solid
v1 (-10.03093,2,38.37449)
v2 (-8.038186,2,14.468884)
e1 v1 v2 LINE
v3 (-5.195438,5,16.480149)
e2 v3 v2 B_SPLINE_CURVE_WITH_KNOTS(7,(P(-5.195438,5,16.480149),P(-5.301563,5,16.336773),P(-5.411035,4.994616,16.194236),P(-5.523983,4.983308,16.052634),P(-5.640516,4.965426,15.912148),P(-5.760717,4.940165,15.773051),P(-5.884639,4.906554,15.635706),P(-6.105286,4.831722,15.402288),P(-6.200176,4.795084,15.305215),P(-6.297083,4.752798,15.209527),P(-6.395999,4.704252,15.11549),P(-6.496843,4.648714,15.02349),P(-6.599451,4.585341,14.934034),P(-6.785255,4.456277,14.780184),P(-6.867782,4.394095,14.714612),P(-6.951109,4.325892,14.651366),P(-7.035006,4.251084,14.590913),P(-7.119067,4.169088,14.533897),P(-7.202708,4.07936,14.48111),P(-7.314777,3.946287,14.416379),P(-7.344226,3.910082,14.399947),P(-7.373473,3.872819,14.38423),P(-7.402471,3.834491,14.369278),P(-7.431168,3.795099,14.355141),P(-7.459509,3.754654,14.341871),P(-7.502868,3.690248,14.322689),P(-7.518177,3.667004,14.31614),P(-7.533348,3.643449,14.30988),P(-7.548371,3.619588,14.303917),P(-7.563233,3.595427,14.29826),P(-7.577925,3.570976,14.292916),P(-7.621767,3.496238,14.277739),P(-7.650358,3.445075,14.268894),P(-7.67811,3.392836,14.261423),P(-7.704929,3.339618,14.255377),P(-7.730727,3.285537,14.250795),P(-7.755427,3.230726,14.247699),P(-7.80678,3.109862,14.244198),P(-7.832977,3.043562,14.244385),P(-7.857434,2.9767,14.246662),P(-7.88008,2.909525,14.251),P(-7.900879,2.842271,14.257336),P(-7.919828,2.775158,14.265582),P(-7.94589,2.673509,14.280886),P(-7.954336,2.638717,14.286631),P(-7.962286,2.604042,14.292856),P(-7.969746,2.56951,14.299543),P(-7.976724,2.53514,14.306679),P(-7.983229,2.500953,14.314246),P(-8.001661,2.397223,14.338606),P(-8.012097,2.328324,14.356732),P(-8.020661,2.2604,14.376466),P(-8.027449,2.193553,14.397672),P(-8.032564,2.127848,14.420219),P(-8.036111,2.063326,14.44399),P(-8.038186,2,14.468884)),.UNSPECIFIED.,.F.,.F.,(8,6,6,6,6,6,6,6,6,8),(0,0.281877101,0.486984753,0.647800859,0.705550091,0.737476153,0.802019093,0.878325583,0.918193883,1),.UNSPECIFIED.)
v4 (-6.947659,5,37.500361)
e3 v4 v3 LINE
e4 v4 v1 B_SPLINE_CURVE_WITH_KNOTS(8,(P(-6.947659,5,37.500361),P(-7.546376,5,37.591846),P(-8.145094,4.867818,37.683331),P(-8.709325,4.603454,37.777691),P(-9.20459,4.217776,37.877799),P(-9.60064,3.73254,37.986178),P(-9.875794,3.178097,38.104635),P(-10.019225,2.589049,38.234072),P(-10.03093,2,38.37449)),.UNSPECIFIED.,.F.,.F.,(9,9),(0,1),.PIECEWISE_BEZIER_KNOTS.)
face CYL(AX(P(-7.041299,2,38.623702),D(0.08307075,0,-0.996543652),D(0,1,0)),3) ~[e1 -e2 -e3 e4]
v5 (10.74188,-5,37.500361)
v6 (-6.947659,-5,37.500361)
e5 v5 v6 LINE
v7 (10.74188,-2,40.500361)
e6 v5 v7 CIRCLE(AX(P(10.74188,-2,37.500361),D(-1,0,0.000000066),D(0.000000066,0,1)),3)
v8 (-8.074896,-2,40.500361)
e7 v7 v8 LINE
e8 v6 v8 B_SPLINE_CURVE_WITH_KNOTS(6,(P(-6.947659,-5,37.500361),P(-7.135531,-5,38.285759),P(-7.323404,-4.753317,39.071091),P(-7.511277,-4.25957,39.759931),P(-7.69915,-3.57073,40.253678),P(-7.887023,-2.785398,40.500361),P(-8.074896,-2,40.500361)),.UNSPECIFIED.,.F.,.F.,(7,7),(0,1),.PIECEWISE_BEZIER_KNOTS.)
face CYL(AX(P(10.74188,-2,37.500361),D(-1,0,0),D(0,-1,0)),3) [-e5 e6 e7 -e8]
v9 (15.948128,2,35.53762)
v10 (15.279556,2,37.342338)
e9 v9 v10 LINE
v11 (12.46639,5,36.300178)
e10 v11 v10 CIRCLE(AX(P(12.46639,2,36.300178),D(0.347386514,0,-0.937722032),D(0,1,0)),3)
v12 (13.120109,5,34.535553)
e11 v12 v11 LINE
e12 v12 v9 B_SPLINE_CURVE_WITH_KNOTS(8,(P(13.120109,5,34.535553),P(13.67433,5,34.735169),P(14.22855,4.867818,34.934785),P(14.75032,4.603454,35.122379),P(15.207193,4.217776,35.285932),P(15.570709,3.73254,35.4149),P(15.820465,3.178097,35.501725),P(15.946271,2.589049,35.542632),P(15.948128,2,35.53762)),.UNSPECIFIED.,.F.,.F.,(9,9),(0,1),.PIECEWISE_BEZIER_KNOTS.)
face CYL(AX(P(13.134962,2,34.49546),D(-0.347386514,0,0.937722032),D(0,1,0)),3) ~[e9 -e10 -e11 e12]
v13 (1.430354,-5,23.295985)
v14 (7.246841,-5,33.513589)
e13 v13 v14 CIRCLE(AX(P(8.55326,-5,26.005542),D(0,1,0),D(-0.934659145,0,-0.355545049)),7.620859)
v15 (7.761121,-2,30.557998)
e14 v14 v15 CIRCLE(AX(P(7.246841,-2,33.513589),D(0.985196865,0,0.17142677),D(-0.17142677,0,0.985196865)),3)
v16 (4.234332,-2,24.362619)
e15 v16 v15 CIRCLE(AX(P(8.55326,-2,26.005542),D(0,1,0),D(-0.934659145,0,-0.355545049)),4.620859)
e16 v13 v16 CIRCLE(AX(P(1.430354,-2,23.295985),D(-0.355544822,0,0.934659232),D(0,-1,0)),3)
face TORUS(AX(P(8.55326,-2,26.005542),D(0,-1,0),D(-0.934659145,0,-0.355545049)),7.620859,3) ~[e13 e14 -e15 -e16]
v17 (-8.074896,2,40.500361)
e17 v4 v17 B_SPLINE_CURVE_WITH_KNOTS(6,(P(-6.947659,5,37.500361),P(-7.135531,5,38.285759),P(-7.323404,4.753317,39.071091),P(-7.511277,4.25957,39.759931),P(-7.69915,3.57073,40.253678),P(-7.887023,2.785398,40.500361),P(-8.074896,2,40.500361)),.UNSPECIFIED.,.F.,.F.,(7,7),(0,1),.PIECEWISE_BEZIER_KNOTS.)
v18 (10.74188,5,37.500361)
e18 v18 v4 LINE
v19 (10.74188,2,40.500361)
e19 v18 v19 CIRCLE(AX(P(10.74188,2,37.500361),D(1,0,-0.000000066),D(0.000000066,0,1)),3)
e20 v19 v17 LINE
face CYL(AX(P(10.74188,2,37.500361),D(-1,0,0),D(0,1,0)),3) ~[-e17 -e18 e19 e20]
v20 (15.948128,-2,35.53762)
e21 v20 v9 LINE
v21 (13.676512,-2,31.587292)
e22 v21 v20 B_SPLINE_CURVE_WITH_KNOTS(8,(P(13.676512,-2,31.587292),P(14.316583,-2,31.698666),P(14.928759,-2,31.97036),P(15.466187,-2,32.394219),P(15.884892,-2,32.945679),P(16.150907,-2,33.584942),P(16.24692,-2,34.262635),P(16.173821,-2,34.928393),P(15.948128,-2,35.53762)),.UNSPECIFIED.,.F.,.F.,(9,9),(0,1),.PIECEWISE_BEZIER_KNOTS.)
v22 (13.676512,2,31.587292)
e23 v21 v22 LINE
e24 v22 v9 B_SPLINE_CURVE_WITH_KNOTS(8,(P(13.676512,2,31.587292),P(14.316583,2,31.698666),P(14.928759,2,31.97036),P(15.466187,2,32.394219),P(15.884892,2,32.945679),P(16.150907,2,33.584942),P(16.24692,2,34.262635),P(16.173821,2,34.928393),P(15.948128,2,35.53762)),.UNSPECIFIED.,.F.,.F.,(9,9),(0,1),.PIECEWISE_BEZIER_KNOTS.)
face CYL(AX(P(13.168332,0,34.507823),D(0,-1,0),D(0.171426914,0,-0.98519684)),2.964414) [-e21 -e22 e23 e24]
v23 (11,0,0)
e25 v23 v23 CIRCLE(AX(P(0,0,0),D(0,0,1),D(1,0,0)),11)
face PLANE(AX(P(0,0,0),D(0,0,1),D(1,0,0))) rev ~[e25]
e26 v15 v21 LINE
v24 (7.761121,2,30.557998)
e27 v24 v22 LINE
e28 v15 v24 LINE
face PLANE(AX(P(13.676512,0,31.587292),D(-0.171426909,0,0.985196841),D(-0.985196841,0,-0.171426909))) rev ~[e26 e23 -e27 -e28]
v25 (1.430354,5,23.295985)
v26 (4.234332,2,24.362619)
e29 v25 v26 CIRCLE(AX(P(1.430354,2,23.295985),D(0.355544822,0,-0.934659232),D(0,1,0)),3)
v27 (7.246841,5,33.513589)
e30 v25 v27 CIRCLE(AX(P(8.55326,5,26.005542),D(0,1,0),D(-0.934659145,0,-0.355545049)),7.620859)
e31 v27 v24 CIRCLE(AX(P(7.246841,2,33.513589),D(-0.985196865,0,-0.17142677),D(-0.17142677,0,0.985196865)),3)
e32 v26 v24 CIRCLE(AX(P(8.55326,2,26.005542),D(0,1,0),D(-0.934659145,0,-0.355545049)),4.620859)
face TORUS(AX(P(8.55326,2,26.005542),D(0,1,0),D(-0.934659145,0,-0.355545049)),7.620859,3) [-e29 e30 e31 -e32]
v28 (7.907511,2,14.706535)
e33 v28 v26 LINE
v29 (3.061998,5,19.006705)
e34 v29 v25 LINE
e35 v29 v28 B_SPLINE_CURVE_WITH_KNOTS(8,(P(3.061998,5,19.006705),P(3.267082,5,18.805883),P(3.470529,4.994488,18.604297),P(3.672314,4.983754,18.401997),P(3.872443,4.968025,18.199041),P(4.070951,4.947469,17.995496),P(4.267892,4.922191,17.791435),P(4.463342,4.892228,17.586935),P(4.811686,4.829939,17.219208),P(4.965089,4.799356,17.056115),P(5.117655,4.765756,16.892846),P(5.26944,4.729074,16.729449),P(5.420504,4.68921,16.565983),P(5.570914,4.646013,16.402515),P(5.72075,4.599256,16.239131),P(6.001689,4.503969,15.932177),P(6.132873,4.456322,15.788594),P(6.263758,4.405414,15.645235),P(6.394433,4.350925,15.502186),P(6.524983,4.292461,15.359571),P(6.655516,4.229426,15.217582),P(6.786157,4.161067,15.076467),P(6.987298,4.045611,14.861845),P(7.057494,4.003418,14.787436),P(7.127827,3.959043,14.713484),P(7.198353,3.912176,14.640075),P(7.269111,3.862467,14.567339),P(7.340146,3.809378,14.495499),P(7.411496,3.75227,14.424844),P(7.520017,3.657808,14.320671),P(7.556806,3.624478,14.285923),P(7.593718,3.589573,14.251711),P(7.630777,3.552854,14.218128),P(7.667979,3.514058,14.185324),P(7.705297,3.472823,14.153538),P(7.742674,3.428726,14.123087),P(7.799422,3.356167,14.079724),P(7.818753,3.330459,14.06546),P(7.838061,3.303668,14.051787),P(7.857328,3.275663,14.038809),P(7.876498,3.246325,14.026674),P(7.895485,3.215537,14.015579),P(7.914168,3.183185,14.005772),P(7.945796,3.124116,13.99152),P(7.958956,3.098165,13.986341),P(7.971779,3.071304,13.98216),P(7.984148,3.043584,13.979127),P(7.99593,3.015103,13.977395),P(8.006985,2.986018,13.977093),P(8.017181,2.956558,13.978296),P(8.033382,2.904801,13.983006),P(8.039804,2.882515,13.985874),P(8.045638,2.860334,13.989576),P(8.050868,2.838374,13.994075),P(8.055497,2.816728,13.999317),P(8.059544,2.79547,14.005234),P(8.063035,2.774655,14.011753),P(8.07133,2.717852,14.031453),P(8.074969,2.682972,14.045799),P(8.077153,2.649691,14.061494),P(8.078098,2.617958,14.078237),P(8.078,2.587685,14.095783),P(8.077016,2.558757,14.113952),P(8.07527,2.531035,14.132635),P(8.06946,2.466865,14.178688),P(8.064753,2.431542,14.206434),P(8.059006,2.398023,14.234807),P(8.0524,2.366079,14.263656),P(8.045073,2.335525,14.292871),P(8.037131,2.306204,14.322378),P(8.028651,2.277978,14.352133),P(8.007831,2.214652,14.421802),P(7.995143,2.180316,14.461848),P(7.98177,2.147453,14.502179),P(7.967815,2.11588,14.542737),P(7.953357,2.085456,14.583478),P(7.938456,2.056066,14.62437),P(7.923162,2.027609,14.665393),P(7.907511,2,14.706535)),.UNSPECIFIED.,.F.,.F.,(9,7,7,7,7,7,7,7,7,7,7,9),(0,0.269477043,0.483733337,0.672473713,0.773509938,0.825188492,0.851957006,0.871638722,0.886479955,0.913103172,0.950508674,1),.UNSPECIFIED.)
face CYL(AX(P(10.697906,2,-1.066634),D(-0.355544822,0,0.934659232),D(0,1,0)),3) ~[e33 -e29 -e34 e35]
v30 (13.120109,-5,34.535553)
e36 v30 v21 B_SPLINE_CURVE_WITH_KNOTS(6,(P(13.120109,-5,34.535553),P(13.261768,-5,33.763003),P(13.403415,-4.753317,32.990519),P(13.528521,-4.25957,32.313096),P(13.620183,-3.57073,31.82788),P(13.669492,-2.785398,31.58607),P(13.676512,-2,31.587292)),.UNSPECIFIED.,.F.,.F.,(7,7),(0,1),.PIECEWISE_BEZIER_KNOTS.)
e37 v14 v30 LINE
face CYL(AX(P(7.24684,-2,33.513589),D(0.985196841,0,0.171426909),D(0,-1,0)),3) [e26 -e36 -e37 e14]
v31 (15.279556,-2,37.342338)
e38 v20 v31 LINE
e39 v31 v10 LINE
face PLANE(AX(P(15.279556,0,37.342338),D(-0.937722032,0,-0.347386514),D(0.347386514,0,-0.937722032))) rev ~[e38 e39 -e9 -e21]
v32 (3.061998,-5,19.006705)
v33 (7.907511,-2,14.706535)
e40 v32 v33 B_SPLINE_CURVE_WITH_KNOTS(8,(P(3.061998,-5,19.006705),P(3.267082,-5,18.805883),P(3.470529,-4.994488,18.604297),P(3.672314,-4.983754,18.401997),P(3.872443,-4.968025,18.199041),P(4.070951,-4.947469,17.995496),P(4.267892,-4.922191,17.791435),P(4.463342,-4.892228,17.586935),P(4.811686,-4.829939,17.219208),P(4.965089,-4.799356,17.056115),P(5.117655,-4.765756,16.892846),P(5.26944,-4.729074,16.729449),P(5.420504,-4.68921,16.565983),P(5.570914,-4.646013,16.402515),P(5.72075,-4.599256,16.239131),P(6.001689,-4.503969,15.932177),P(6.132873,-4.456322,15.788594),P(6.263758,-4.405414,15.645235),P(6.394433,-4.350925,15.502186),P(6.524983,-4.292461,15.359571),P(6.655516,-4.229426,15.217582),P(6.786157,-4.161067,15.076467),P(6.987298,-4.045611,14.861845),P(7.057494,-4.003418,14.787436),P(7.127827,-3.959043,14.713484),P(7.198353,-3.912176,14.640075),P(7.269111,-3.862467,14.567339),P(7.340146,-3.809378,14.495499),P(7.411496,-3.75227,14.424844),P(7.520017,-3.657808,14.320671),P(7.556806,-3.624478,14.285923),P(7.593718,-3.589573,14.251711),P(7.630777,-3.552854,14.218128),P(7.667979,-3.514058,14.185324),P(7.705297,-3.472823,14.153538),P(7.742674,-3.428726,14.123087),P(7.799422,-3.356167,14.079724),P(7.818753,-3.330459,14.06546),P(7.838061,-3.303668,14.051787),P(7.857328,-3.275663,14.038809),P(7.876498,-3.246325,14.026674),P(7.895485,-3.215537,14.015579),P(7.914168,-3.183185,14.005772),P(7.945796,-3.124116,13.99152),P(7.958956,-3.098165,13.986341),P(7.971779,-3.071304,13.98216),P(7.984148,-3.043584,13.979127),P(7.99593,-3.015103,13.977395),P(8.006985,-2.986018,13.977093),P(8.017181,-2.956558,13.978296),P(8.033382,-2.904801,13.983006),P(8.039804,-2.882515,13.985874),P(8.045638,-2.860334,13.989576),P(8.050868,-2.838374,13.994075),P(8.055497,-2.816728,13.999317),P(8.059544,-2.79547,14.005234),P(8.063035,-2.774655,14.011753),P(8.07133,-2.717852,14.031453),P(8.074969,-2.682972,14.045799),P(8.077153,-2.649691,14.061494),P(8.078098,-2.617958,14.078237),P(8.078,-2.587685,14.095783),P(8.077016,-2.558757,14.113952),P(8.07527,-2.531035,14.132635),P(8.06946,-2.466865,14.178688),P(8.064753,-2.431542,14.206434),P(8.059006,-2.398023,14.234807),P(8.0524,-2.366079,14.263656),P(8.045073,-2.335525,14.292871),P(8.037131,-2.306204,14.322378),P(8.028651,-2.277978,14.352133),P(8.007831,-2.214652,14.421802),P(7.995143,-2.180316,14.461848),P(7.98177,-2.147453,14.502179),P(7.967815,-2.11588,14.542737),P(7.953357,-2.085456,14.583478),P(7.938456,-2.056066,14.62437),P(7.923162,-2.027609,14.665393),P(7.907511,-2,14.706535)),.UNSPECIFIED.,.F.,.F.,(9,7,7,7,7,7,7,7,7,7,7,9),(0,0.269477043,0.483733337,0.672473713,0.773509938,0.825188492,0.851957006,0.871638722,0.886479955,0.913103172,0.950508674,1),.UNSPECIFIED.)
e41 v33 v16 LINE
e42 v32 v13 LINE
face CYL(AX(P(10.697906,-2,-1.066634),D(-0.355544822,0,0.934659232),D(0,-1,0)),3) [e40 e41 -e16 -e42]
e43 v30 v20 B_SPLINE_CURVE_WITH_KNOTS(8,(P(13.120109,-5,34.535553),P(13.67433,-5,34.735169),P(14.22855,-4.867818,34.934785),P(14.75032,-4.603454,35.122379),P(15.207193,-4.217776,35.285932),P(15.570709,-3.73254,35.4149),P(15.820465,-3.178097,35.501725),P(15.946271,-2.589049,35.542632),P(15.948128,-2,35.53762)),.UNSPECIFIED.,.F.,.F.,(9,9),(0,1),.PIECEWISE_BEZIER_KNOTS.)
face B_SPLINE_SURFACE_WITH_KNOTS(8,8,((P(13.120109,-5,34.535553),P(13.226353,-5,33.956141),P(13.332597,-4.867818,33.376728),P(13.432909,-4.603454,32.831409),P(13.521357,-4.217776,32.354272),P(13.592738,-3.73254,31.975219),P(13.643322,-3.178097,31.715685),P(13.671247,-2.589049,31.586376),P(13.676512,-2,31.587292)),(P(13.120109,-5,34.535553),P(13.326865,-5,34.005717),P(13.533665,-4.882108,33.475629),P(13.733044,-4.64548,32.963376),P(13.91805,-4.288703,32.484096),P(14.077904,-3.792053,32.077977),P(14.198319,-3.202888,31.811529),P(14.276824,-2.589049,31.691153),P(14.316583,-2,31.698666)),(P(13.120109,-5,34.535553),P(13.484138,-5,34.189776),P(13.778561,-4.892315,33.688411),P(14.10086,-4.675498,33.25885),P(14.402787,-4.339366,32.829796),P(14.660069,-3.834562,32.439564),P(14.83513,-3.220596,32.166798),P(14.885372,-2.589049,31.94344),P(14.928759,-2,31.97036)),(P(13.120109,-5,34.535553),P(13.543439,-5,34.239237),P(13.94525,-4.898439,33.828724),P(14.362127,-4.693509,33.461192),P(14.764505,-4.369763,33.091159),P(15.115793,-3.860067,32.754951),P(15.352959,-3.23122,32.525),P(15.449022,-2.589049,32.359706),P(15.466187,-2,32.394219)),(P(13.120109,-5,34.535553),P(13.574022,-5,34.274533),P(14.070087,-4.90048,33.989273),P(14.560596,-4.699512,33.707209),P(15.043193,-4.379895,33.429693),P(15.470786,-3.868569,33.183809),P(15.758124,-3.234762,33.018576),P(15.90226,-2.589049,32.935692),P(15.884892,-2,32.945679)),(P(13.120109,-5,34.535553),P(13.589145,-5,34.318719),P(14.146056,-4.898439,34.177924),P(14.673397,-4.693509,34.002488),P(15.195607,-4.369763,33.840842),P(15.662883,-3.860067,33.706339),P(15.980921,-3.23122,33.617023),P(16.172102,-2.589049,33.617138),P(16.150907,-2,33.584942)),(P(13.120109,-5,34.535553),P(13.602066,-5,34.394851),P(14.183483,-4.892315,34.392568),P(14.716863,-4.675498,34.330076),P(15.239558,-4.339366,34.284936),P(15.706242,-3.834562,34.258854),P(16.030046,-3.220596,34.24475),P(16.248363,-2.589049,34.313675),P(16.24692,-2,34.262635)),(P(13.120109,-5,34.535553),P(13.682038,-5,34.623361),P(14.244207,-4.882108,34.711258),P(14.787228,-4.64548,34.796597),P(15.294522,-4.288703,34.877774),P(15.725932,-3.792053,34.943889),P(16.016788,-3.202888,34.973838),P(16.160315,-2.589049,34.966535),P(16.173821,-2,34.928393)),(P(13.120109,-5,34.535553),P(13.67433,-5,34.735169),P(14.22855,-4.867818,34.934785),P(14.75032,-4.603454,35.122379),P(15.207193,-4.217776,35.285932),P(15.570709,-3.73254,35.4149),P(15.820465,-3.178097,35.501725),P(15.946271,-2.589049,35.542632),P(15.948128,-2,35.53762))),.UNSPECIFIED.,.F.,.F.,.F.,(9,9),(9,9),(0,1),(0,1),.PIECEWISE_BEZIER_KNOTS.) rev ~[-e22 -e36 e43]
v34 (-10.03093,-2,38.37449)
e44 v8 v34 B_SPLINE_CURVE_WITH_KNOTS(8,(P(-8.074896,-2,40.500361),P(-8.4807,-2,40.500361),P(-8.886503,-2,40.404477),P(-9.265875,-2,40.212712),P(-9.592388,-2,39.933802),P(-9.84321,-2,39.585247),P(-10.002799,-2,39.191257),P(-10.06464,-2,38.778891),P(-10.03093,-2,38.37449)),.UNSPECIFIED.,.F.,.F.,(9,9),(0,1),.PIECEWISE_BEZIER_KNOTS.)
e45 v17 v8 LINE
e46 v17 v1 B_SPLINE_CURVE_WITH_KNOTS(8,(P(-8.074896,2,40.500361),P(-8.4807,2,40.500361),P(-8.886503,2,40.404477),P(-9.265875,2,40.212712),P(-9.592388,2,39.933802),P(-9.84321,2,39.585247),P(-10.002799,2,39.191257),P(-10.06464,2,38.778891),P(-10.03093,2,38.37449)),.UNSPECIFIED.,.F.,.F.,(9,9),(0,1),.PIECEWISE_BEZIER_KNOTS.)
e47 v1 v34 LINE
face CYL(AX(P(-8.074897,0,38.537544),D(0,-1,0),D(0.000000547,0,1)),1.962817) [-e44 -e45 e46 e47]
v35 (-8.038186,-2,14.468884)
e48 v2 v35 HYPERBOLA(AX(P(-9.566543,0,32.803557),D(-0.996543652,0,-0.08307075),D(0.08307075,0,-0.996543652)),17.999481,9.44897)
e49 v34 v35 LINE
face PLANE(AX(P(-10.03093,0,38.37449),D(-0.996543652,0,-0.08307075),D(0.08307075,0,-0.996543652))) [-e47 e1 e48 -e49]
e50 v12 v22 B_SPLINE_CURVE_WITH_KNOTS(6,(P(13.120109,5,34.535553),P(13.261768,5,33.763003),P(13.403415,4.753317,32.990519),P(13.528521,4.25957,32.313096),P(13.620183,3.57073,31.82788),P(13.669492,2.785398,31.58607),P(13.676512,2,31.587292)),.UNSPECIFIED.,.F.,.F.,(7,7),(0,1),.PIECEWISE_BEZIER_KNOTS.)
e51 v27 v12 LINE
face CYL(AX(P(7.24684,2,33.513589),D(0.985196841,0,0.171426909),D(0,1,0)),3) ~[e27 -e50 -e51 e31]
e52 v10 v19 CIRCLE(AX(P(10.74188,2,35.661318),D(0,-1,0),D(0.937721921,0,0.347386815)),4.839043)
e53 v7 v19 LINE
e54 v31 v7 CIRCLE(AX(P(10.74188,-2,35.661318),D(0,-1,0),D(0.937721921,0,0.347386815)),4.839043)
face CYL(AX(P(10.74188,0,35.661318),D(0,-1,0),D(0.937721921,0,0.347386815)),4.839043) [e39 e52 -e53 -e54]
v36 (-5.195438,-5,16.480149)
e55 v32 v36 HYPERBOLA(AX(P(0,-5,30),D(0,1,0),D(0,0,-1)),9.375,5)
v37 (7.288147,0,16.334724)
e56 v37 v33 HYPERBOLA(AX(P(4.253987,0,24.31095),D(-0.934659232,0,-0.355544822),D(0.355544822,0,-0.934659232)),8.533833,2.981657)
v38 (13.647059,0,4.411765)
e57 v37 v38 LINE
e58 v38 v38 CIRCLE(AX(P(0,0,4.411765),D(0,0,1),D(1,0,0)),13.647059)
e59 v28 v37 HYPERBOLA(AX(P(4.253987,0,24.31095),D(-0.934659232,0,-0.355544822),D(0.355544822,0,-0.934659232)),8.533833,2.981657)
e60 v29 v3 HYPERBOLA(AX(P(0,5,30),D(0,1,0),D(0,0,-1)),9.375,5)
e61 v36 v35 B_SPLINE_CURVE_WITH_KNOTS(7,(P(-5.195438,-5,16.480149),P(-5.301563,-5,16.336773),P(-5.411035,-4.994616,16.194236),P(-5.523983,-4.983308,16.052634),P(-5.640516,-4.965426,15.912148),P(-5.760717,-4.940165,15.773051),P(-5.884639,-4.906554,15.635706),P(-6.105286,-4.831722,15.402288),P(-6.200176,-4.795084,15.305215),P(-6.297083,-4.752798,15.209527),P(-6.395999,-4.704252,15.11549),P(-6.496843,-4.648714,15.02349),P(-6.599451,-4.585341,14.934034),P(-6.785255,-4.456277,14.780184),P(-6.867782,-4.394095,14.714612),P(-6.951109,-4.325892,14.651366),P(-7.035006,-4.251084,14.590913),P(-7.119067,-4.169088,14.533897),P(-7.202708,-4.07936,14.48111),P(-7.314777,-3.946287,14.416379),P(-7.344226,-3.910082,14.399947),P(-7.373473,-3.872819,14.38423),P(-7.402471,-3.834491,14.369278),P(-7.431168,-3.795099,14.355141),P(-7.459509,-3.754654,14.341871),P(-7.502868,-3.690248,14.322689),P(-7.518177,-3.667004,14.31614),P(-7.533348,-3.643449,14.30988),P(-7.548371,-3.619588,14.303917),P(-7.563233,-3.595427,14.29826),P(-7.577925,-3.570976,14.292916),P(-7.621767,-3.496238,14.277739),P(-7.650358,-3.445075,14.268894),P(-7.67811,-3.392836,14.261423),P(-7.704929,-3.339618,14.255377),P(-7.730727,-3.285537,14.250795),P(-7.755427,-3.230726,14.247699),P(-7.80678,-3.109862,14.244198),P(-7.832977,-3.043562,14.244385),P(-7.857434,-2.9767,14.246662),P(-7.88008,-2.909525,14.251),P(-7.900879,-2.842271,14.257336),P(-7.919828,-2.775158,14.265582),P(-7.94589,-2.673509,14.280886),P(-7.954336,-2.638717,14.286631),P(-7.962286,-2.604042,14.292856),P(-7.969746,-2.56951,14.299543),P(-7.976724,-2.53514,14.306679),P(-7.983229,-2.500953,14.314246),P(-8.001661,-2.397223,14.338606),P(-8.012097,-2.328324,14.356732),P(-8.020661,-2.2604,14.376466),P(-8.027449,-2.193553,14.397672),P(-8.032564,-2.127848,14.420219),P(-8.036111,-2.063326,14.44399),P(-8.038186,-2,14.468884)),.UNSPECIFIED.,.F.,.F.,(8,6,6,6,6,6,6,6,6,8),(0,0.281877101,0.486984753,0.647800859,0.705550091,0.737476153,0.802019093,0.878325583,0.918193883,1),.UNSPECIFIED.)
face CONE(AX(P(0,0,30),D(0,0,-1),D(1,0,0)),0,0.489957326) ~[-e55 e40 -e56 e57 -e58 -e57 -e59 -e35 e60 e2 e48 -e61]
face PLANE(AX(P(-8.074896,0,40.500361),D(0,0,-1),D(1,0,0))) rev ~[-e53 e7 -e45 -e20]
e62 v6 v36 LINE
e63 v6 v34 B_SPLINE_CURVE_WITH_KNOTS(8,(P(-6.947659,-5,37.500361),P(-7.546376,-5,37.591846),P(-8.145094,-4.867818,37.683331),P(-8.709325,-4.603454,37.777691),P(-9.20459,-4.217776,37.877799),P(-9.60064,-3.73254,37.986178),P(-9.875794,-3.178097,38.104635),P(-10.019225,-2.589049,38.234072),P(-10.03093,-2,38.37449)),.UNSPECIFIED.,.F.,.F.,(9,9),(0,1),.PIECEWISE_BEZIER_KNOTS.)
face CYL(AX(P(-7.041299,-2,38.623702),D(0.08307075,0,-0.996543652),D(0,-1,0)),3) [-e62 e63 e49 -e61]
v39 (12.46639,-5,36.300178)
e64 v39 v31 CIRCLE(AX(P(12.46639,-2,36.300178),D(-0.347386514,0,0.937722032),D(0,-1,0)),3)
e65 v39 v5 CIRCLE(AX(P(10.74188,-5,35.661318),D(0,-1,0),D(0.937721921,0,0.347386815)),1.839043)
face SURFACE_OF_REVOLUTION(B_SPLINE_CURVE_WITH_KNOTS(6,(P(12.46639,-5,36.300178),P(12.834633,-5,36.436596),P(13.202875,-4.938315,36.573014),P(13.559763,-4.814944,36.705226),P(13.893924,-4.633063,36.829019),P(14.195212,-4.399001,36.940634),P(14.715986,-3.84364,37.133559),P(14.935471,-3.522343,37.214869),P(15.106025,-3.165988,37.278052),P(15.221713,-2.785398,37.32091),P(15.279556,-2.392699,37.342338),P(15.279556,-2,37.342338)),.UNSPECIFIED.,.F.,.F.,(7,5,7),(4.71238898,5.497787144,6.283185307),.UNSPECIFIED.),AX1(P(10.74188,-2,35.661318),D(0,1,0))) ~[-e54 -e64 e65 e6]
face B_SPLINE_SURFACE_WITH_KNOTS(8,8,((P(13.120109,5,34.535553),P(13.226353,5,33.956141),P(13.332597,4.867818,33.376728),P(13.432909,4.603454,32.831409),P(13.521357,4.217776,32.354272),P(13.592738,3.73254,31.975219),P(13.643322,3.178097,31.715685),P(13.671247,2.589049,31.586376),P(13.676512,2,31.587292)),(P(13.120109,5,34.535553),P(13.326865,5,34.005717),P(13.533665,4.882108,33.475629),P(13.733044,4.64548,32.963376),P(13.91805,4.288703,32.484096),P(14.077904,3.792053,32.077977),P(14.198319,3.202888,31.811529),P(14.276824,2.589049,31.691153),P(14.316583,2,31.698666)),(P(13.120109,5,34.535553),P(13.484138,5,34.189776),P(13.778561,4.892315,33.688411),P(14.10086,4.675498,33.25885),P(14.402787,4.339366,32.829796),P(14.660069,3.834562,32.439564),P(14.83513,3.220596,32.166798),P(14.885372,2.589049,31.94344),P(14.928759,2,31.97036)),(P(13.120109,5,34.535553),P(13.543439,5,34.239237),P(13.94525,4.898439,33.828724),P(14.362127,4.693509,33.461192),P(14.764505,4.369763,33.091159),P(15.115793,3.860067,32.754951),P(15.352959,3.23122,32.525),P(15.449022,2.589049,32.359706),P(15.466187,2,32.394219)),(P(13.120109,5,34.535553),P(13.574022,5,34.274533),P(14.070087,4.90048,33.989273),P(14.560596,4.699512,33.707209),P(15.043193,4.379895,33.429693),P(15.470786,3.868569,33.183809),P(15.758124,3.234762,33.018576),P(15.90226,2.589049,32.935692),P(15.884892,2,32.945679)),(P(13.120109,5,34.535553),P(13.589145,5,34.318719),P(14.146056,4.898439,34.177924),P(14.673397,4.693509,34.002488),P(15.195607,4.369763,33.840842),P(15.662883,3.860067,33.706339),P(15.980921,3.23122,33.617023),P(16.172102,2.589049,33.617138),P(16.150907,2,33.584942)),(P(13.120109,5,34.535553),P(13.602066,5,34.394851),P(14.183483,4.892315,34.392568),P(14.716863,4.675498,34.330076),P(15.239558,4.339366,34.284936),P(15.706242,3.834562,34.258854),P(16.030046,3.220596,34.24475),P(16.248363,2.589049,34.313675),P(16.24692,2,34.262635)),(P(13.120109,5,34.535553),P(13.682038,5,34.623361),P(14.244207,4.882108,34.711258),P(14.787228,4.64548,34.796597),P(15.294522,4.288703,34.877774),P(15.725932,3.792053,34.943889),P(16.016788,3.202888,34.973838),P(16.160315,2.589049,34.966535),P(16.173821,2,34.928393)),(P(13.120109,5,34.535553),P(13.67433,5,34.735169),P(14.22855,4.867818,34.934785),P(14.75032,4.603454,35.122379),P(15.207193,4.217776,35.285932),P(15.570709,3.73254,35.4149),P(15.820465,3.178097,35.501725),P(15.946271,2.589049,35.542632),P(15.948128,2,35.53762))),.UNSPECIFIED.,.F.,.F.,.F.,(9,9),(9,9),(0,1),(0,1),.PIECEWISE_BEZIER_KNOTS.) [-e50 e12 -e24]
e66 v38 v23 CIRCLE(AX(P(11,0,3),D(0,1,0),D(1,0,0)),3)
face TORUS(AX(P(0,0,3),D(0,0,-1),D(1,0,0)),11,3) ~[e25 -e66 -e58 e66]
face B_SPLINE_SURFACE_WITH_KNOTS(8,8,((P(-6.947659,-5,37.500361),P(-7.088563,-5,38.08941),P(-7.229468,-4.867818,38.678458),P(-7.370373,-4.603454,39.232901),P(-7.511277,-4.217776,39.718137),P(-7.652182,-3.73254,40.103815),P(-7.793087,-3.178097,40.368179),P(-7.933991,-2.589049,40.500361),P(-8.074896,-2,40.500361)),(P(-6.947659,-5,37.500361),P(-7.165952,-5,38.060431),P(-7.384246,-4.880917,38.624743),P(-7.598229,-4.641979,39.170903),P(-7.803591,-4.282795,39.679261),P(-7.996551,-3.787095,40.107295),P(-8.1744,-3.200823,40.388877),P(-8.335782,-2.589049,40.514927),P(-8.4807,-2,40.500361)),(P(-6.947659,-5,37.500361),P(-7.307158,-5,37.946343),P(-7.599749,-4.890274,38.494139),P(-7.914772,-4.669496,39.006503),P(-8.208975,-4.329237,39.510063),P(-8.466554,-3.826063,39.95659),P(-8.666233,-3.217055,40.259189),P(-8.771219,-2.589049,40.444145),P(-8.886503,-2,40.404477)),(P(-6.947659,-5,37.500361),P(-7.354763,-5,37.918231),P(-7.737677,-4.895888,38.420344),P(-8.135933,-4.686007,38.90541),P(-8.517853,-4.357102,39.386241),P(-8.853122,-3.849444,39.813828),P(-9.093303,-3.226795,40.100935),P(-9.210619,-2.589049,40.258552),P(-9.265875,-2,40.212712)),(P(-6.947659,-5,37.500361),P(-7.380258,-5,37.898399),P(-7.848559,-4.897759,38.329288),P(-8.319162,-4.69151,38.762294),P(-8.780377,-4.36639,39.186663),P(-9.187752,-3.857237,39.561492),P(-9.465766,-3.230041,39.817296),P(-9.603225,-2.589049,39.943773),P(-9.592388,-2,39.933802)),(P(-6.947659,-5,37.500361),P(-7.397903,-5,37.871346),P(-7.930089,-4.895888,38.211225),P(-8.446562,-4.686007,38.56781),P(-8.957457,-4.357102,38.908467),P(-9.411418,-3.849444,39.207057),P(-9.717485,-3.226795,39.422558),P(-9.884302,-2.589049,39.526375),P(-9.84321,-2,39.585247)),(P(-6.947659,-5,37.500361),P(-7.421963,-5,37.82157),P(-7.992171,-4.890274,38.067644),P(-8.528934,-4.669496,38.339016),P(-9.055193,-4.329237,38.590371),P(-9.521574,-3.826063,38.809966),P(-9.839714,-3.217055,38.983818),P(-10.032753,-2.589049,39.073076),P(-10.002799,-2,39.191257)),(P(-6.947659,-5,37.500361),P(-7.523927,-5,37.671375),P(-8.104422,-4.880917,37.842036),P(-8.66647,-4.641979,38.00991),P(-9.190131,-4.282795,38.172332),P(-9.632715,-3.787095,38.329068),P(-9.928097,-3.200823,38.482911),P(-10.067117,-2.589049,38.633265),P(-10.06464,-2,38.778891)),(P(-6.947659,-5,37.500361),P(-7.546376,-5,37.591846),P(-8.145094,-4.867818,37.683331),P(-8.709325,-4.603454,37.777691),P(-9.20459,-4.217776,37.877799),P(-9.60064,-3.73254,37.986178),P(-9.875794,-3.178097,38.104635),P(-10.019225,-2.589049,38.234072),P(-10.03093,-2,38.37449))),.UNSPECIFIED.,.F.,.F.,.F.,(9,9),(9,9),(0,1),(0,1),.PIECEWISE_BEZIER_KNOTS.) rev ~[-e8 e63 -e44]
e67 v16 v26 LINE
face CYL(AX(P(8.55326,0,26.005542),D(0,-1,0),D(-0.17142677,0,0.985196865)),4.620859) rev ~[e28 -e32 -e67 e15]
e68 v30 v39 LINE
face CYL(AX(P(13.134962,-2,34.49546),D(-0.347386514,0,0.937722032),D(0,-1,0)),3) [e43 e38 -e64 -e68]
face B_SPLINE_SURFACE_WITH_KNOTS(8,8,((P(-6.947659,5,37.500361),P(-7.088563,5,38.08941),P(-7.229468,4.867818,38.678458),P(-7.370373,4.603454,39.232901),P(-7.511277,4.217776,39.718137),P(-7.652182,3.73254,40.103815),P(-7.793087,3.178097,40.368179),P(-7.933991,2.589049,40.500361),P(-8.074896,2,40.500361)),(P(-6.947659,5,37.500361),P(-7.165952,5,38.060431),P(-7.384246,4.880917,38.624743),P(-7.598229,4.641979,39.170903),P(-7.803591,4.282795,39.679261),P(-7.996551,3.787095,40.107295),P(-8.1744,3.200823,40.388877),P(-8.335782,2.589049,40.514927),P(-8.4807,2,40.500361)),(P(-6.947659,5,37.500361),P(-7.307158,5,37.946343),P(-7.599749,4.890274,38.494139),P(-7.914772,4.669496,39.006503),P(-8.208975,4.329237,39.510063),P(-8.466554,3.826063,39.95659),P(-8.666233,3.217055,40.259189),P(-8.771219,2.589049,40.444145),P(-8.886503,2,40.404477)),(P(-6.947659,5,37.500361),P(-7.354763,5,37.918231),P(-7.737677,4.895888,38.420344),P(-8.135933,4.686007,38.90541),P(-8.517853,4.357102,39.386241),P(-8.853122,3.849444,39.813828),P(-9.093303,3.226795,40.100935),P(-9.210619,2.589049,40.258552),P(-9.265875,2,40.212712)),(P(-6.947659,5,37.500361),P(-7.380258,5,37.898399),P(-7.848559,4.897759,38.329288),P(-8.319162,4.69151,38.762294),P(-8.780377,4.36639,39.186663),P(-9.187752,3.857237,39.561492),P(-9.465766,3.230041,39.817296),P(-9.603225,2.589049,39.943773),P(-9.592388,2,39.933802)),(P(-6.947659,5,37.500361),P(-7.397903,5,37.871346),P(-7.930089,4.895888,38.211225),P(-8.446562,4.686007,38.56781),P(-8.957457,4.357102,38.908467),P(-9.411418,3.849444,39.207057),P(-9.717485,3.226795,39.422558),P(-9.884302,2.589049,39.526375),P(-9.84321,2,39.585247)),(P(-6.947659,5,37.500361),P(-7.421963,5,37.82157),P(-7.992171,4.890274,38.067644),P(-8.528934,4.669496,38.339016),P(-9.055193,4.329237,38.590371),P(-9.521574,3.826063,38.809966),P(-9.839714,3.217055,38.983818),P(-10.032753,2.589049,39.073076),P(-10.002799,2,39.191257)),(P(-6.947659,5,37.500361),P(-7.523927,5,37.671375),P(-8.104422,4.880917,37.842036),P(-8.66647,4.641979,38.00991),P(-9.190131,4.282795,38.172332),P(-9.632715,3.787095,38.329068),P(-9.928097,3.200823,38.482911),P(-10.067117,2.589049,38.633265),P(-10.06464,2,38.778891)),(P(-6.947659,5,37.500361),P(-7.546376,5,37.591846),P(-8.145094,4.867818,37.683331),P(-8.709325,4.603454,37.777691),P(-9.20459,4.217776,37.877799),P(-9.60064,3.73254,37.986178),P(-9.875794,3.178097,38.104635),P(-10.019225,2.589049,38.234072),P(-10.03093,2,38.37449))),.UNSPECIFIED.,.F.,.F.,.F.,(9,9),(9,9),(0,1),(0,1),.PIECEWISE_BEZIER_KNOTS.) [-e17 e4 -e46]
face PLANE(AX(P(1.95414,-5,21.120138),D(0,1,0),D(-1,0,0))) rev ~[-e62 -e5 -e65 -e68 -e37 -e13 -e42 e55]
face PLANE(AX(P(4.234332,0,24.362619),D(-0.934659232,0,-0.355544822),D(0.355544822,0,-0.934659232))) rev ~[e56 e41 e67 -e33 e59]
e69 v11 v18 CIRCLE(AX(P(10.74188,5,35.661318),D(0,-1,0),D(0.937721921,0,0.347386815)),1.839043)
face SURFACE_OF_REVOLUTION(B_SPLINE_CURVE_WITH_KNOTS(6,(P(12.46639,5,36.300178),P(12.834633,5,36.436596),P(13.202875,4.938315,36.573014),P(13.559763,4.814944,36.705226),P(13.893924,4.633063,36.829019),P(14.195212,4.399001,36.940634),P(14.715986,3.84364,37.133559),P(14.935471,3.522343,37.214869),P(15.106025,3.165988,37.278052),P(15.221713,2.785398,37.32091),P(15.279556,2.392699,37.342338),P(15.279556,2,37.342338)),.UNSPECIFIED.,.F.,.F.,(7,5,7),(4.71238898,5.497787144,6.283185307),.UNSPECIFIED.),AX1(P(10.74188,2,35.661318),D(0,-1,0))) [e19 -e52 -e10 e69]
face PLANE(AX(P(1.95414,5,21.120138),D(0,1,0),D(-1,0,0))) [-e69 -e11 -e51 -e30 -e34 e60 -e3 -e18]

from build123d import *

# Parameters (mm, degrees)
PAD_DEPTH   = 5
FILLET_R    = 3
FILLET001_R = 3


with BuildPart() as fillet_body:
    # Sketch → Pad (new body, symmetric)
    with BuildSketch(Plane.XZ):
        with BuildLine():
            Line((-8.074896, 40.500361), (10.74188, 40.500361))
            ThreePointArc((15.279556, 37.342338), (13.506098, 39.633148), (10.74188, 40.500361))
            Line((15.279556, 37.342338), (15.948128, 35.53762))
            ThreePointArc((13.676512, 31.587292), (15.738151, 33.030062), (15.948128, 35.53762))
            Line((13.676512, 31.587292), (7.761121, 30.557998))
            ThreePointArc((7.761121, 30.557998), (4.537487, 28.291566), (4.234332, 24.362619))
            Line((4.234332, 24.362619), (13.501884, 0))
            Line((13.501884, 0), (-6.832076, 0))
            Line((-10.03093, 38.37449), (-6.832076, 0))
            ThreePointArc((-8.074896, 40.500361), (-9.519316, 39.866568), (-10.03093, 38.37449))
        make_face()
    extrude(amount=PAD_DEPTH, both=True)

    # Fillet
    fillet_edges = [fillet_body.edges().sort_by_distance(p)[0] for p in [
        (-9.519316, -5, 39.866568),
        (1.333492, -5, 40.500361),
        (13.506098, -5, 39.633148),
        (15.613842, -5, 36.439979),
        (15.738151, -5, 33.030062),
        (10.718817, -5, 31.072645),
        (4.537487, -5, 28.291566),
        (8.868108, -5, 12.181309),
        (3.334904, -5, 0),
        (-8.431503, -5, 19.187245),
        (-9.519316, 5, 39.866568),
        (1.333492, 5, 40.500361),
        (13.506098, 5, 39.633148),
        (15.613842, 5, 36.439979),
        (15.738151, 5, 33.030062),
        (10.718817, 5, 31.072645),
        (4.537487, 5, 28.291566),
        (8.868108, 5, 12.181309),
        (3.334904, 5, 0),
        (-8.431503, 5, 19.187245),
    ]]
    fillet(fillet_edges, radius=FILLET_R)


with BuildPart() as fillet001:
    # Sketch001 → Revolution (revolve)
    with BuildSketch(Plane.XZ):
        Polygon((0, 30), (16, 0), (0, 0), align=None)
    revolve(axis=Axis((0, 0, 0), (0, 0, 1)))

    # Fusion: union Fillet body
    add(fillet_body.part)

    # Fillet001
    fillet001_edges = [fillet001.edges().sort_by_distance(p)[0] for p in [
        (-16, 0, 0),
    ]]
    fillet(fillet001_edges, radius=FILLET001_R)


solid = fillet001.part
